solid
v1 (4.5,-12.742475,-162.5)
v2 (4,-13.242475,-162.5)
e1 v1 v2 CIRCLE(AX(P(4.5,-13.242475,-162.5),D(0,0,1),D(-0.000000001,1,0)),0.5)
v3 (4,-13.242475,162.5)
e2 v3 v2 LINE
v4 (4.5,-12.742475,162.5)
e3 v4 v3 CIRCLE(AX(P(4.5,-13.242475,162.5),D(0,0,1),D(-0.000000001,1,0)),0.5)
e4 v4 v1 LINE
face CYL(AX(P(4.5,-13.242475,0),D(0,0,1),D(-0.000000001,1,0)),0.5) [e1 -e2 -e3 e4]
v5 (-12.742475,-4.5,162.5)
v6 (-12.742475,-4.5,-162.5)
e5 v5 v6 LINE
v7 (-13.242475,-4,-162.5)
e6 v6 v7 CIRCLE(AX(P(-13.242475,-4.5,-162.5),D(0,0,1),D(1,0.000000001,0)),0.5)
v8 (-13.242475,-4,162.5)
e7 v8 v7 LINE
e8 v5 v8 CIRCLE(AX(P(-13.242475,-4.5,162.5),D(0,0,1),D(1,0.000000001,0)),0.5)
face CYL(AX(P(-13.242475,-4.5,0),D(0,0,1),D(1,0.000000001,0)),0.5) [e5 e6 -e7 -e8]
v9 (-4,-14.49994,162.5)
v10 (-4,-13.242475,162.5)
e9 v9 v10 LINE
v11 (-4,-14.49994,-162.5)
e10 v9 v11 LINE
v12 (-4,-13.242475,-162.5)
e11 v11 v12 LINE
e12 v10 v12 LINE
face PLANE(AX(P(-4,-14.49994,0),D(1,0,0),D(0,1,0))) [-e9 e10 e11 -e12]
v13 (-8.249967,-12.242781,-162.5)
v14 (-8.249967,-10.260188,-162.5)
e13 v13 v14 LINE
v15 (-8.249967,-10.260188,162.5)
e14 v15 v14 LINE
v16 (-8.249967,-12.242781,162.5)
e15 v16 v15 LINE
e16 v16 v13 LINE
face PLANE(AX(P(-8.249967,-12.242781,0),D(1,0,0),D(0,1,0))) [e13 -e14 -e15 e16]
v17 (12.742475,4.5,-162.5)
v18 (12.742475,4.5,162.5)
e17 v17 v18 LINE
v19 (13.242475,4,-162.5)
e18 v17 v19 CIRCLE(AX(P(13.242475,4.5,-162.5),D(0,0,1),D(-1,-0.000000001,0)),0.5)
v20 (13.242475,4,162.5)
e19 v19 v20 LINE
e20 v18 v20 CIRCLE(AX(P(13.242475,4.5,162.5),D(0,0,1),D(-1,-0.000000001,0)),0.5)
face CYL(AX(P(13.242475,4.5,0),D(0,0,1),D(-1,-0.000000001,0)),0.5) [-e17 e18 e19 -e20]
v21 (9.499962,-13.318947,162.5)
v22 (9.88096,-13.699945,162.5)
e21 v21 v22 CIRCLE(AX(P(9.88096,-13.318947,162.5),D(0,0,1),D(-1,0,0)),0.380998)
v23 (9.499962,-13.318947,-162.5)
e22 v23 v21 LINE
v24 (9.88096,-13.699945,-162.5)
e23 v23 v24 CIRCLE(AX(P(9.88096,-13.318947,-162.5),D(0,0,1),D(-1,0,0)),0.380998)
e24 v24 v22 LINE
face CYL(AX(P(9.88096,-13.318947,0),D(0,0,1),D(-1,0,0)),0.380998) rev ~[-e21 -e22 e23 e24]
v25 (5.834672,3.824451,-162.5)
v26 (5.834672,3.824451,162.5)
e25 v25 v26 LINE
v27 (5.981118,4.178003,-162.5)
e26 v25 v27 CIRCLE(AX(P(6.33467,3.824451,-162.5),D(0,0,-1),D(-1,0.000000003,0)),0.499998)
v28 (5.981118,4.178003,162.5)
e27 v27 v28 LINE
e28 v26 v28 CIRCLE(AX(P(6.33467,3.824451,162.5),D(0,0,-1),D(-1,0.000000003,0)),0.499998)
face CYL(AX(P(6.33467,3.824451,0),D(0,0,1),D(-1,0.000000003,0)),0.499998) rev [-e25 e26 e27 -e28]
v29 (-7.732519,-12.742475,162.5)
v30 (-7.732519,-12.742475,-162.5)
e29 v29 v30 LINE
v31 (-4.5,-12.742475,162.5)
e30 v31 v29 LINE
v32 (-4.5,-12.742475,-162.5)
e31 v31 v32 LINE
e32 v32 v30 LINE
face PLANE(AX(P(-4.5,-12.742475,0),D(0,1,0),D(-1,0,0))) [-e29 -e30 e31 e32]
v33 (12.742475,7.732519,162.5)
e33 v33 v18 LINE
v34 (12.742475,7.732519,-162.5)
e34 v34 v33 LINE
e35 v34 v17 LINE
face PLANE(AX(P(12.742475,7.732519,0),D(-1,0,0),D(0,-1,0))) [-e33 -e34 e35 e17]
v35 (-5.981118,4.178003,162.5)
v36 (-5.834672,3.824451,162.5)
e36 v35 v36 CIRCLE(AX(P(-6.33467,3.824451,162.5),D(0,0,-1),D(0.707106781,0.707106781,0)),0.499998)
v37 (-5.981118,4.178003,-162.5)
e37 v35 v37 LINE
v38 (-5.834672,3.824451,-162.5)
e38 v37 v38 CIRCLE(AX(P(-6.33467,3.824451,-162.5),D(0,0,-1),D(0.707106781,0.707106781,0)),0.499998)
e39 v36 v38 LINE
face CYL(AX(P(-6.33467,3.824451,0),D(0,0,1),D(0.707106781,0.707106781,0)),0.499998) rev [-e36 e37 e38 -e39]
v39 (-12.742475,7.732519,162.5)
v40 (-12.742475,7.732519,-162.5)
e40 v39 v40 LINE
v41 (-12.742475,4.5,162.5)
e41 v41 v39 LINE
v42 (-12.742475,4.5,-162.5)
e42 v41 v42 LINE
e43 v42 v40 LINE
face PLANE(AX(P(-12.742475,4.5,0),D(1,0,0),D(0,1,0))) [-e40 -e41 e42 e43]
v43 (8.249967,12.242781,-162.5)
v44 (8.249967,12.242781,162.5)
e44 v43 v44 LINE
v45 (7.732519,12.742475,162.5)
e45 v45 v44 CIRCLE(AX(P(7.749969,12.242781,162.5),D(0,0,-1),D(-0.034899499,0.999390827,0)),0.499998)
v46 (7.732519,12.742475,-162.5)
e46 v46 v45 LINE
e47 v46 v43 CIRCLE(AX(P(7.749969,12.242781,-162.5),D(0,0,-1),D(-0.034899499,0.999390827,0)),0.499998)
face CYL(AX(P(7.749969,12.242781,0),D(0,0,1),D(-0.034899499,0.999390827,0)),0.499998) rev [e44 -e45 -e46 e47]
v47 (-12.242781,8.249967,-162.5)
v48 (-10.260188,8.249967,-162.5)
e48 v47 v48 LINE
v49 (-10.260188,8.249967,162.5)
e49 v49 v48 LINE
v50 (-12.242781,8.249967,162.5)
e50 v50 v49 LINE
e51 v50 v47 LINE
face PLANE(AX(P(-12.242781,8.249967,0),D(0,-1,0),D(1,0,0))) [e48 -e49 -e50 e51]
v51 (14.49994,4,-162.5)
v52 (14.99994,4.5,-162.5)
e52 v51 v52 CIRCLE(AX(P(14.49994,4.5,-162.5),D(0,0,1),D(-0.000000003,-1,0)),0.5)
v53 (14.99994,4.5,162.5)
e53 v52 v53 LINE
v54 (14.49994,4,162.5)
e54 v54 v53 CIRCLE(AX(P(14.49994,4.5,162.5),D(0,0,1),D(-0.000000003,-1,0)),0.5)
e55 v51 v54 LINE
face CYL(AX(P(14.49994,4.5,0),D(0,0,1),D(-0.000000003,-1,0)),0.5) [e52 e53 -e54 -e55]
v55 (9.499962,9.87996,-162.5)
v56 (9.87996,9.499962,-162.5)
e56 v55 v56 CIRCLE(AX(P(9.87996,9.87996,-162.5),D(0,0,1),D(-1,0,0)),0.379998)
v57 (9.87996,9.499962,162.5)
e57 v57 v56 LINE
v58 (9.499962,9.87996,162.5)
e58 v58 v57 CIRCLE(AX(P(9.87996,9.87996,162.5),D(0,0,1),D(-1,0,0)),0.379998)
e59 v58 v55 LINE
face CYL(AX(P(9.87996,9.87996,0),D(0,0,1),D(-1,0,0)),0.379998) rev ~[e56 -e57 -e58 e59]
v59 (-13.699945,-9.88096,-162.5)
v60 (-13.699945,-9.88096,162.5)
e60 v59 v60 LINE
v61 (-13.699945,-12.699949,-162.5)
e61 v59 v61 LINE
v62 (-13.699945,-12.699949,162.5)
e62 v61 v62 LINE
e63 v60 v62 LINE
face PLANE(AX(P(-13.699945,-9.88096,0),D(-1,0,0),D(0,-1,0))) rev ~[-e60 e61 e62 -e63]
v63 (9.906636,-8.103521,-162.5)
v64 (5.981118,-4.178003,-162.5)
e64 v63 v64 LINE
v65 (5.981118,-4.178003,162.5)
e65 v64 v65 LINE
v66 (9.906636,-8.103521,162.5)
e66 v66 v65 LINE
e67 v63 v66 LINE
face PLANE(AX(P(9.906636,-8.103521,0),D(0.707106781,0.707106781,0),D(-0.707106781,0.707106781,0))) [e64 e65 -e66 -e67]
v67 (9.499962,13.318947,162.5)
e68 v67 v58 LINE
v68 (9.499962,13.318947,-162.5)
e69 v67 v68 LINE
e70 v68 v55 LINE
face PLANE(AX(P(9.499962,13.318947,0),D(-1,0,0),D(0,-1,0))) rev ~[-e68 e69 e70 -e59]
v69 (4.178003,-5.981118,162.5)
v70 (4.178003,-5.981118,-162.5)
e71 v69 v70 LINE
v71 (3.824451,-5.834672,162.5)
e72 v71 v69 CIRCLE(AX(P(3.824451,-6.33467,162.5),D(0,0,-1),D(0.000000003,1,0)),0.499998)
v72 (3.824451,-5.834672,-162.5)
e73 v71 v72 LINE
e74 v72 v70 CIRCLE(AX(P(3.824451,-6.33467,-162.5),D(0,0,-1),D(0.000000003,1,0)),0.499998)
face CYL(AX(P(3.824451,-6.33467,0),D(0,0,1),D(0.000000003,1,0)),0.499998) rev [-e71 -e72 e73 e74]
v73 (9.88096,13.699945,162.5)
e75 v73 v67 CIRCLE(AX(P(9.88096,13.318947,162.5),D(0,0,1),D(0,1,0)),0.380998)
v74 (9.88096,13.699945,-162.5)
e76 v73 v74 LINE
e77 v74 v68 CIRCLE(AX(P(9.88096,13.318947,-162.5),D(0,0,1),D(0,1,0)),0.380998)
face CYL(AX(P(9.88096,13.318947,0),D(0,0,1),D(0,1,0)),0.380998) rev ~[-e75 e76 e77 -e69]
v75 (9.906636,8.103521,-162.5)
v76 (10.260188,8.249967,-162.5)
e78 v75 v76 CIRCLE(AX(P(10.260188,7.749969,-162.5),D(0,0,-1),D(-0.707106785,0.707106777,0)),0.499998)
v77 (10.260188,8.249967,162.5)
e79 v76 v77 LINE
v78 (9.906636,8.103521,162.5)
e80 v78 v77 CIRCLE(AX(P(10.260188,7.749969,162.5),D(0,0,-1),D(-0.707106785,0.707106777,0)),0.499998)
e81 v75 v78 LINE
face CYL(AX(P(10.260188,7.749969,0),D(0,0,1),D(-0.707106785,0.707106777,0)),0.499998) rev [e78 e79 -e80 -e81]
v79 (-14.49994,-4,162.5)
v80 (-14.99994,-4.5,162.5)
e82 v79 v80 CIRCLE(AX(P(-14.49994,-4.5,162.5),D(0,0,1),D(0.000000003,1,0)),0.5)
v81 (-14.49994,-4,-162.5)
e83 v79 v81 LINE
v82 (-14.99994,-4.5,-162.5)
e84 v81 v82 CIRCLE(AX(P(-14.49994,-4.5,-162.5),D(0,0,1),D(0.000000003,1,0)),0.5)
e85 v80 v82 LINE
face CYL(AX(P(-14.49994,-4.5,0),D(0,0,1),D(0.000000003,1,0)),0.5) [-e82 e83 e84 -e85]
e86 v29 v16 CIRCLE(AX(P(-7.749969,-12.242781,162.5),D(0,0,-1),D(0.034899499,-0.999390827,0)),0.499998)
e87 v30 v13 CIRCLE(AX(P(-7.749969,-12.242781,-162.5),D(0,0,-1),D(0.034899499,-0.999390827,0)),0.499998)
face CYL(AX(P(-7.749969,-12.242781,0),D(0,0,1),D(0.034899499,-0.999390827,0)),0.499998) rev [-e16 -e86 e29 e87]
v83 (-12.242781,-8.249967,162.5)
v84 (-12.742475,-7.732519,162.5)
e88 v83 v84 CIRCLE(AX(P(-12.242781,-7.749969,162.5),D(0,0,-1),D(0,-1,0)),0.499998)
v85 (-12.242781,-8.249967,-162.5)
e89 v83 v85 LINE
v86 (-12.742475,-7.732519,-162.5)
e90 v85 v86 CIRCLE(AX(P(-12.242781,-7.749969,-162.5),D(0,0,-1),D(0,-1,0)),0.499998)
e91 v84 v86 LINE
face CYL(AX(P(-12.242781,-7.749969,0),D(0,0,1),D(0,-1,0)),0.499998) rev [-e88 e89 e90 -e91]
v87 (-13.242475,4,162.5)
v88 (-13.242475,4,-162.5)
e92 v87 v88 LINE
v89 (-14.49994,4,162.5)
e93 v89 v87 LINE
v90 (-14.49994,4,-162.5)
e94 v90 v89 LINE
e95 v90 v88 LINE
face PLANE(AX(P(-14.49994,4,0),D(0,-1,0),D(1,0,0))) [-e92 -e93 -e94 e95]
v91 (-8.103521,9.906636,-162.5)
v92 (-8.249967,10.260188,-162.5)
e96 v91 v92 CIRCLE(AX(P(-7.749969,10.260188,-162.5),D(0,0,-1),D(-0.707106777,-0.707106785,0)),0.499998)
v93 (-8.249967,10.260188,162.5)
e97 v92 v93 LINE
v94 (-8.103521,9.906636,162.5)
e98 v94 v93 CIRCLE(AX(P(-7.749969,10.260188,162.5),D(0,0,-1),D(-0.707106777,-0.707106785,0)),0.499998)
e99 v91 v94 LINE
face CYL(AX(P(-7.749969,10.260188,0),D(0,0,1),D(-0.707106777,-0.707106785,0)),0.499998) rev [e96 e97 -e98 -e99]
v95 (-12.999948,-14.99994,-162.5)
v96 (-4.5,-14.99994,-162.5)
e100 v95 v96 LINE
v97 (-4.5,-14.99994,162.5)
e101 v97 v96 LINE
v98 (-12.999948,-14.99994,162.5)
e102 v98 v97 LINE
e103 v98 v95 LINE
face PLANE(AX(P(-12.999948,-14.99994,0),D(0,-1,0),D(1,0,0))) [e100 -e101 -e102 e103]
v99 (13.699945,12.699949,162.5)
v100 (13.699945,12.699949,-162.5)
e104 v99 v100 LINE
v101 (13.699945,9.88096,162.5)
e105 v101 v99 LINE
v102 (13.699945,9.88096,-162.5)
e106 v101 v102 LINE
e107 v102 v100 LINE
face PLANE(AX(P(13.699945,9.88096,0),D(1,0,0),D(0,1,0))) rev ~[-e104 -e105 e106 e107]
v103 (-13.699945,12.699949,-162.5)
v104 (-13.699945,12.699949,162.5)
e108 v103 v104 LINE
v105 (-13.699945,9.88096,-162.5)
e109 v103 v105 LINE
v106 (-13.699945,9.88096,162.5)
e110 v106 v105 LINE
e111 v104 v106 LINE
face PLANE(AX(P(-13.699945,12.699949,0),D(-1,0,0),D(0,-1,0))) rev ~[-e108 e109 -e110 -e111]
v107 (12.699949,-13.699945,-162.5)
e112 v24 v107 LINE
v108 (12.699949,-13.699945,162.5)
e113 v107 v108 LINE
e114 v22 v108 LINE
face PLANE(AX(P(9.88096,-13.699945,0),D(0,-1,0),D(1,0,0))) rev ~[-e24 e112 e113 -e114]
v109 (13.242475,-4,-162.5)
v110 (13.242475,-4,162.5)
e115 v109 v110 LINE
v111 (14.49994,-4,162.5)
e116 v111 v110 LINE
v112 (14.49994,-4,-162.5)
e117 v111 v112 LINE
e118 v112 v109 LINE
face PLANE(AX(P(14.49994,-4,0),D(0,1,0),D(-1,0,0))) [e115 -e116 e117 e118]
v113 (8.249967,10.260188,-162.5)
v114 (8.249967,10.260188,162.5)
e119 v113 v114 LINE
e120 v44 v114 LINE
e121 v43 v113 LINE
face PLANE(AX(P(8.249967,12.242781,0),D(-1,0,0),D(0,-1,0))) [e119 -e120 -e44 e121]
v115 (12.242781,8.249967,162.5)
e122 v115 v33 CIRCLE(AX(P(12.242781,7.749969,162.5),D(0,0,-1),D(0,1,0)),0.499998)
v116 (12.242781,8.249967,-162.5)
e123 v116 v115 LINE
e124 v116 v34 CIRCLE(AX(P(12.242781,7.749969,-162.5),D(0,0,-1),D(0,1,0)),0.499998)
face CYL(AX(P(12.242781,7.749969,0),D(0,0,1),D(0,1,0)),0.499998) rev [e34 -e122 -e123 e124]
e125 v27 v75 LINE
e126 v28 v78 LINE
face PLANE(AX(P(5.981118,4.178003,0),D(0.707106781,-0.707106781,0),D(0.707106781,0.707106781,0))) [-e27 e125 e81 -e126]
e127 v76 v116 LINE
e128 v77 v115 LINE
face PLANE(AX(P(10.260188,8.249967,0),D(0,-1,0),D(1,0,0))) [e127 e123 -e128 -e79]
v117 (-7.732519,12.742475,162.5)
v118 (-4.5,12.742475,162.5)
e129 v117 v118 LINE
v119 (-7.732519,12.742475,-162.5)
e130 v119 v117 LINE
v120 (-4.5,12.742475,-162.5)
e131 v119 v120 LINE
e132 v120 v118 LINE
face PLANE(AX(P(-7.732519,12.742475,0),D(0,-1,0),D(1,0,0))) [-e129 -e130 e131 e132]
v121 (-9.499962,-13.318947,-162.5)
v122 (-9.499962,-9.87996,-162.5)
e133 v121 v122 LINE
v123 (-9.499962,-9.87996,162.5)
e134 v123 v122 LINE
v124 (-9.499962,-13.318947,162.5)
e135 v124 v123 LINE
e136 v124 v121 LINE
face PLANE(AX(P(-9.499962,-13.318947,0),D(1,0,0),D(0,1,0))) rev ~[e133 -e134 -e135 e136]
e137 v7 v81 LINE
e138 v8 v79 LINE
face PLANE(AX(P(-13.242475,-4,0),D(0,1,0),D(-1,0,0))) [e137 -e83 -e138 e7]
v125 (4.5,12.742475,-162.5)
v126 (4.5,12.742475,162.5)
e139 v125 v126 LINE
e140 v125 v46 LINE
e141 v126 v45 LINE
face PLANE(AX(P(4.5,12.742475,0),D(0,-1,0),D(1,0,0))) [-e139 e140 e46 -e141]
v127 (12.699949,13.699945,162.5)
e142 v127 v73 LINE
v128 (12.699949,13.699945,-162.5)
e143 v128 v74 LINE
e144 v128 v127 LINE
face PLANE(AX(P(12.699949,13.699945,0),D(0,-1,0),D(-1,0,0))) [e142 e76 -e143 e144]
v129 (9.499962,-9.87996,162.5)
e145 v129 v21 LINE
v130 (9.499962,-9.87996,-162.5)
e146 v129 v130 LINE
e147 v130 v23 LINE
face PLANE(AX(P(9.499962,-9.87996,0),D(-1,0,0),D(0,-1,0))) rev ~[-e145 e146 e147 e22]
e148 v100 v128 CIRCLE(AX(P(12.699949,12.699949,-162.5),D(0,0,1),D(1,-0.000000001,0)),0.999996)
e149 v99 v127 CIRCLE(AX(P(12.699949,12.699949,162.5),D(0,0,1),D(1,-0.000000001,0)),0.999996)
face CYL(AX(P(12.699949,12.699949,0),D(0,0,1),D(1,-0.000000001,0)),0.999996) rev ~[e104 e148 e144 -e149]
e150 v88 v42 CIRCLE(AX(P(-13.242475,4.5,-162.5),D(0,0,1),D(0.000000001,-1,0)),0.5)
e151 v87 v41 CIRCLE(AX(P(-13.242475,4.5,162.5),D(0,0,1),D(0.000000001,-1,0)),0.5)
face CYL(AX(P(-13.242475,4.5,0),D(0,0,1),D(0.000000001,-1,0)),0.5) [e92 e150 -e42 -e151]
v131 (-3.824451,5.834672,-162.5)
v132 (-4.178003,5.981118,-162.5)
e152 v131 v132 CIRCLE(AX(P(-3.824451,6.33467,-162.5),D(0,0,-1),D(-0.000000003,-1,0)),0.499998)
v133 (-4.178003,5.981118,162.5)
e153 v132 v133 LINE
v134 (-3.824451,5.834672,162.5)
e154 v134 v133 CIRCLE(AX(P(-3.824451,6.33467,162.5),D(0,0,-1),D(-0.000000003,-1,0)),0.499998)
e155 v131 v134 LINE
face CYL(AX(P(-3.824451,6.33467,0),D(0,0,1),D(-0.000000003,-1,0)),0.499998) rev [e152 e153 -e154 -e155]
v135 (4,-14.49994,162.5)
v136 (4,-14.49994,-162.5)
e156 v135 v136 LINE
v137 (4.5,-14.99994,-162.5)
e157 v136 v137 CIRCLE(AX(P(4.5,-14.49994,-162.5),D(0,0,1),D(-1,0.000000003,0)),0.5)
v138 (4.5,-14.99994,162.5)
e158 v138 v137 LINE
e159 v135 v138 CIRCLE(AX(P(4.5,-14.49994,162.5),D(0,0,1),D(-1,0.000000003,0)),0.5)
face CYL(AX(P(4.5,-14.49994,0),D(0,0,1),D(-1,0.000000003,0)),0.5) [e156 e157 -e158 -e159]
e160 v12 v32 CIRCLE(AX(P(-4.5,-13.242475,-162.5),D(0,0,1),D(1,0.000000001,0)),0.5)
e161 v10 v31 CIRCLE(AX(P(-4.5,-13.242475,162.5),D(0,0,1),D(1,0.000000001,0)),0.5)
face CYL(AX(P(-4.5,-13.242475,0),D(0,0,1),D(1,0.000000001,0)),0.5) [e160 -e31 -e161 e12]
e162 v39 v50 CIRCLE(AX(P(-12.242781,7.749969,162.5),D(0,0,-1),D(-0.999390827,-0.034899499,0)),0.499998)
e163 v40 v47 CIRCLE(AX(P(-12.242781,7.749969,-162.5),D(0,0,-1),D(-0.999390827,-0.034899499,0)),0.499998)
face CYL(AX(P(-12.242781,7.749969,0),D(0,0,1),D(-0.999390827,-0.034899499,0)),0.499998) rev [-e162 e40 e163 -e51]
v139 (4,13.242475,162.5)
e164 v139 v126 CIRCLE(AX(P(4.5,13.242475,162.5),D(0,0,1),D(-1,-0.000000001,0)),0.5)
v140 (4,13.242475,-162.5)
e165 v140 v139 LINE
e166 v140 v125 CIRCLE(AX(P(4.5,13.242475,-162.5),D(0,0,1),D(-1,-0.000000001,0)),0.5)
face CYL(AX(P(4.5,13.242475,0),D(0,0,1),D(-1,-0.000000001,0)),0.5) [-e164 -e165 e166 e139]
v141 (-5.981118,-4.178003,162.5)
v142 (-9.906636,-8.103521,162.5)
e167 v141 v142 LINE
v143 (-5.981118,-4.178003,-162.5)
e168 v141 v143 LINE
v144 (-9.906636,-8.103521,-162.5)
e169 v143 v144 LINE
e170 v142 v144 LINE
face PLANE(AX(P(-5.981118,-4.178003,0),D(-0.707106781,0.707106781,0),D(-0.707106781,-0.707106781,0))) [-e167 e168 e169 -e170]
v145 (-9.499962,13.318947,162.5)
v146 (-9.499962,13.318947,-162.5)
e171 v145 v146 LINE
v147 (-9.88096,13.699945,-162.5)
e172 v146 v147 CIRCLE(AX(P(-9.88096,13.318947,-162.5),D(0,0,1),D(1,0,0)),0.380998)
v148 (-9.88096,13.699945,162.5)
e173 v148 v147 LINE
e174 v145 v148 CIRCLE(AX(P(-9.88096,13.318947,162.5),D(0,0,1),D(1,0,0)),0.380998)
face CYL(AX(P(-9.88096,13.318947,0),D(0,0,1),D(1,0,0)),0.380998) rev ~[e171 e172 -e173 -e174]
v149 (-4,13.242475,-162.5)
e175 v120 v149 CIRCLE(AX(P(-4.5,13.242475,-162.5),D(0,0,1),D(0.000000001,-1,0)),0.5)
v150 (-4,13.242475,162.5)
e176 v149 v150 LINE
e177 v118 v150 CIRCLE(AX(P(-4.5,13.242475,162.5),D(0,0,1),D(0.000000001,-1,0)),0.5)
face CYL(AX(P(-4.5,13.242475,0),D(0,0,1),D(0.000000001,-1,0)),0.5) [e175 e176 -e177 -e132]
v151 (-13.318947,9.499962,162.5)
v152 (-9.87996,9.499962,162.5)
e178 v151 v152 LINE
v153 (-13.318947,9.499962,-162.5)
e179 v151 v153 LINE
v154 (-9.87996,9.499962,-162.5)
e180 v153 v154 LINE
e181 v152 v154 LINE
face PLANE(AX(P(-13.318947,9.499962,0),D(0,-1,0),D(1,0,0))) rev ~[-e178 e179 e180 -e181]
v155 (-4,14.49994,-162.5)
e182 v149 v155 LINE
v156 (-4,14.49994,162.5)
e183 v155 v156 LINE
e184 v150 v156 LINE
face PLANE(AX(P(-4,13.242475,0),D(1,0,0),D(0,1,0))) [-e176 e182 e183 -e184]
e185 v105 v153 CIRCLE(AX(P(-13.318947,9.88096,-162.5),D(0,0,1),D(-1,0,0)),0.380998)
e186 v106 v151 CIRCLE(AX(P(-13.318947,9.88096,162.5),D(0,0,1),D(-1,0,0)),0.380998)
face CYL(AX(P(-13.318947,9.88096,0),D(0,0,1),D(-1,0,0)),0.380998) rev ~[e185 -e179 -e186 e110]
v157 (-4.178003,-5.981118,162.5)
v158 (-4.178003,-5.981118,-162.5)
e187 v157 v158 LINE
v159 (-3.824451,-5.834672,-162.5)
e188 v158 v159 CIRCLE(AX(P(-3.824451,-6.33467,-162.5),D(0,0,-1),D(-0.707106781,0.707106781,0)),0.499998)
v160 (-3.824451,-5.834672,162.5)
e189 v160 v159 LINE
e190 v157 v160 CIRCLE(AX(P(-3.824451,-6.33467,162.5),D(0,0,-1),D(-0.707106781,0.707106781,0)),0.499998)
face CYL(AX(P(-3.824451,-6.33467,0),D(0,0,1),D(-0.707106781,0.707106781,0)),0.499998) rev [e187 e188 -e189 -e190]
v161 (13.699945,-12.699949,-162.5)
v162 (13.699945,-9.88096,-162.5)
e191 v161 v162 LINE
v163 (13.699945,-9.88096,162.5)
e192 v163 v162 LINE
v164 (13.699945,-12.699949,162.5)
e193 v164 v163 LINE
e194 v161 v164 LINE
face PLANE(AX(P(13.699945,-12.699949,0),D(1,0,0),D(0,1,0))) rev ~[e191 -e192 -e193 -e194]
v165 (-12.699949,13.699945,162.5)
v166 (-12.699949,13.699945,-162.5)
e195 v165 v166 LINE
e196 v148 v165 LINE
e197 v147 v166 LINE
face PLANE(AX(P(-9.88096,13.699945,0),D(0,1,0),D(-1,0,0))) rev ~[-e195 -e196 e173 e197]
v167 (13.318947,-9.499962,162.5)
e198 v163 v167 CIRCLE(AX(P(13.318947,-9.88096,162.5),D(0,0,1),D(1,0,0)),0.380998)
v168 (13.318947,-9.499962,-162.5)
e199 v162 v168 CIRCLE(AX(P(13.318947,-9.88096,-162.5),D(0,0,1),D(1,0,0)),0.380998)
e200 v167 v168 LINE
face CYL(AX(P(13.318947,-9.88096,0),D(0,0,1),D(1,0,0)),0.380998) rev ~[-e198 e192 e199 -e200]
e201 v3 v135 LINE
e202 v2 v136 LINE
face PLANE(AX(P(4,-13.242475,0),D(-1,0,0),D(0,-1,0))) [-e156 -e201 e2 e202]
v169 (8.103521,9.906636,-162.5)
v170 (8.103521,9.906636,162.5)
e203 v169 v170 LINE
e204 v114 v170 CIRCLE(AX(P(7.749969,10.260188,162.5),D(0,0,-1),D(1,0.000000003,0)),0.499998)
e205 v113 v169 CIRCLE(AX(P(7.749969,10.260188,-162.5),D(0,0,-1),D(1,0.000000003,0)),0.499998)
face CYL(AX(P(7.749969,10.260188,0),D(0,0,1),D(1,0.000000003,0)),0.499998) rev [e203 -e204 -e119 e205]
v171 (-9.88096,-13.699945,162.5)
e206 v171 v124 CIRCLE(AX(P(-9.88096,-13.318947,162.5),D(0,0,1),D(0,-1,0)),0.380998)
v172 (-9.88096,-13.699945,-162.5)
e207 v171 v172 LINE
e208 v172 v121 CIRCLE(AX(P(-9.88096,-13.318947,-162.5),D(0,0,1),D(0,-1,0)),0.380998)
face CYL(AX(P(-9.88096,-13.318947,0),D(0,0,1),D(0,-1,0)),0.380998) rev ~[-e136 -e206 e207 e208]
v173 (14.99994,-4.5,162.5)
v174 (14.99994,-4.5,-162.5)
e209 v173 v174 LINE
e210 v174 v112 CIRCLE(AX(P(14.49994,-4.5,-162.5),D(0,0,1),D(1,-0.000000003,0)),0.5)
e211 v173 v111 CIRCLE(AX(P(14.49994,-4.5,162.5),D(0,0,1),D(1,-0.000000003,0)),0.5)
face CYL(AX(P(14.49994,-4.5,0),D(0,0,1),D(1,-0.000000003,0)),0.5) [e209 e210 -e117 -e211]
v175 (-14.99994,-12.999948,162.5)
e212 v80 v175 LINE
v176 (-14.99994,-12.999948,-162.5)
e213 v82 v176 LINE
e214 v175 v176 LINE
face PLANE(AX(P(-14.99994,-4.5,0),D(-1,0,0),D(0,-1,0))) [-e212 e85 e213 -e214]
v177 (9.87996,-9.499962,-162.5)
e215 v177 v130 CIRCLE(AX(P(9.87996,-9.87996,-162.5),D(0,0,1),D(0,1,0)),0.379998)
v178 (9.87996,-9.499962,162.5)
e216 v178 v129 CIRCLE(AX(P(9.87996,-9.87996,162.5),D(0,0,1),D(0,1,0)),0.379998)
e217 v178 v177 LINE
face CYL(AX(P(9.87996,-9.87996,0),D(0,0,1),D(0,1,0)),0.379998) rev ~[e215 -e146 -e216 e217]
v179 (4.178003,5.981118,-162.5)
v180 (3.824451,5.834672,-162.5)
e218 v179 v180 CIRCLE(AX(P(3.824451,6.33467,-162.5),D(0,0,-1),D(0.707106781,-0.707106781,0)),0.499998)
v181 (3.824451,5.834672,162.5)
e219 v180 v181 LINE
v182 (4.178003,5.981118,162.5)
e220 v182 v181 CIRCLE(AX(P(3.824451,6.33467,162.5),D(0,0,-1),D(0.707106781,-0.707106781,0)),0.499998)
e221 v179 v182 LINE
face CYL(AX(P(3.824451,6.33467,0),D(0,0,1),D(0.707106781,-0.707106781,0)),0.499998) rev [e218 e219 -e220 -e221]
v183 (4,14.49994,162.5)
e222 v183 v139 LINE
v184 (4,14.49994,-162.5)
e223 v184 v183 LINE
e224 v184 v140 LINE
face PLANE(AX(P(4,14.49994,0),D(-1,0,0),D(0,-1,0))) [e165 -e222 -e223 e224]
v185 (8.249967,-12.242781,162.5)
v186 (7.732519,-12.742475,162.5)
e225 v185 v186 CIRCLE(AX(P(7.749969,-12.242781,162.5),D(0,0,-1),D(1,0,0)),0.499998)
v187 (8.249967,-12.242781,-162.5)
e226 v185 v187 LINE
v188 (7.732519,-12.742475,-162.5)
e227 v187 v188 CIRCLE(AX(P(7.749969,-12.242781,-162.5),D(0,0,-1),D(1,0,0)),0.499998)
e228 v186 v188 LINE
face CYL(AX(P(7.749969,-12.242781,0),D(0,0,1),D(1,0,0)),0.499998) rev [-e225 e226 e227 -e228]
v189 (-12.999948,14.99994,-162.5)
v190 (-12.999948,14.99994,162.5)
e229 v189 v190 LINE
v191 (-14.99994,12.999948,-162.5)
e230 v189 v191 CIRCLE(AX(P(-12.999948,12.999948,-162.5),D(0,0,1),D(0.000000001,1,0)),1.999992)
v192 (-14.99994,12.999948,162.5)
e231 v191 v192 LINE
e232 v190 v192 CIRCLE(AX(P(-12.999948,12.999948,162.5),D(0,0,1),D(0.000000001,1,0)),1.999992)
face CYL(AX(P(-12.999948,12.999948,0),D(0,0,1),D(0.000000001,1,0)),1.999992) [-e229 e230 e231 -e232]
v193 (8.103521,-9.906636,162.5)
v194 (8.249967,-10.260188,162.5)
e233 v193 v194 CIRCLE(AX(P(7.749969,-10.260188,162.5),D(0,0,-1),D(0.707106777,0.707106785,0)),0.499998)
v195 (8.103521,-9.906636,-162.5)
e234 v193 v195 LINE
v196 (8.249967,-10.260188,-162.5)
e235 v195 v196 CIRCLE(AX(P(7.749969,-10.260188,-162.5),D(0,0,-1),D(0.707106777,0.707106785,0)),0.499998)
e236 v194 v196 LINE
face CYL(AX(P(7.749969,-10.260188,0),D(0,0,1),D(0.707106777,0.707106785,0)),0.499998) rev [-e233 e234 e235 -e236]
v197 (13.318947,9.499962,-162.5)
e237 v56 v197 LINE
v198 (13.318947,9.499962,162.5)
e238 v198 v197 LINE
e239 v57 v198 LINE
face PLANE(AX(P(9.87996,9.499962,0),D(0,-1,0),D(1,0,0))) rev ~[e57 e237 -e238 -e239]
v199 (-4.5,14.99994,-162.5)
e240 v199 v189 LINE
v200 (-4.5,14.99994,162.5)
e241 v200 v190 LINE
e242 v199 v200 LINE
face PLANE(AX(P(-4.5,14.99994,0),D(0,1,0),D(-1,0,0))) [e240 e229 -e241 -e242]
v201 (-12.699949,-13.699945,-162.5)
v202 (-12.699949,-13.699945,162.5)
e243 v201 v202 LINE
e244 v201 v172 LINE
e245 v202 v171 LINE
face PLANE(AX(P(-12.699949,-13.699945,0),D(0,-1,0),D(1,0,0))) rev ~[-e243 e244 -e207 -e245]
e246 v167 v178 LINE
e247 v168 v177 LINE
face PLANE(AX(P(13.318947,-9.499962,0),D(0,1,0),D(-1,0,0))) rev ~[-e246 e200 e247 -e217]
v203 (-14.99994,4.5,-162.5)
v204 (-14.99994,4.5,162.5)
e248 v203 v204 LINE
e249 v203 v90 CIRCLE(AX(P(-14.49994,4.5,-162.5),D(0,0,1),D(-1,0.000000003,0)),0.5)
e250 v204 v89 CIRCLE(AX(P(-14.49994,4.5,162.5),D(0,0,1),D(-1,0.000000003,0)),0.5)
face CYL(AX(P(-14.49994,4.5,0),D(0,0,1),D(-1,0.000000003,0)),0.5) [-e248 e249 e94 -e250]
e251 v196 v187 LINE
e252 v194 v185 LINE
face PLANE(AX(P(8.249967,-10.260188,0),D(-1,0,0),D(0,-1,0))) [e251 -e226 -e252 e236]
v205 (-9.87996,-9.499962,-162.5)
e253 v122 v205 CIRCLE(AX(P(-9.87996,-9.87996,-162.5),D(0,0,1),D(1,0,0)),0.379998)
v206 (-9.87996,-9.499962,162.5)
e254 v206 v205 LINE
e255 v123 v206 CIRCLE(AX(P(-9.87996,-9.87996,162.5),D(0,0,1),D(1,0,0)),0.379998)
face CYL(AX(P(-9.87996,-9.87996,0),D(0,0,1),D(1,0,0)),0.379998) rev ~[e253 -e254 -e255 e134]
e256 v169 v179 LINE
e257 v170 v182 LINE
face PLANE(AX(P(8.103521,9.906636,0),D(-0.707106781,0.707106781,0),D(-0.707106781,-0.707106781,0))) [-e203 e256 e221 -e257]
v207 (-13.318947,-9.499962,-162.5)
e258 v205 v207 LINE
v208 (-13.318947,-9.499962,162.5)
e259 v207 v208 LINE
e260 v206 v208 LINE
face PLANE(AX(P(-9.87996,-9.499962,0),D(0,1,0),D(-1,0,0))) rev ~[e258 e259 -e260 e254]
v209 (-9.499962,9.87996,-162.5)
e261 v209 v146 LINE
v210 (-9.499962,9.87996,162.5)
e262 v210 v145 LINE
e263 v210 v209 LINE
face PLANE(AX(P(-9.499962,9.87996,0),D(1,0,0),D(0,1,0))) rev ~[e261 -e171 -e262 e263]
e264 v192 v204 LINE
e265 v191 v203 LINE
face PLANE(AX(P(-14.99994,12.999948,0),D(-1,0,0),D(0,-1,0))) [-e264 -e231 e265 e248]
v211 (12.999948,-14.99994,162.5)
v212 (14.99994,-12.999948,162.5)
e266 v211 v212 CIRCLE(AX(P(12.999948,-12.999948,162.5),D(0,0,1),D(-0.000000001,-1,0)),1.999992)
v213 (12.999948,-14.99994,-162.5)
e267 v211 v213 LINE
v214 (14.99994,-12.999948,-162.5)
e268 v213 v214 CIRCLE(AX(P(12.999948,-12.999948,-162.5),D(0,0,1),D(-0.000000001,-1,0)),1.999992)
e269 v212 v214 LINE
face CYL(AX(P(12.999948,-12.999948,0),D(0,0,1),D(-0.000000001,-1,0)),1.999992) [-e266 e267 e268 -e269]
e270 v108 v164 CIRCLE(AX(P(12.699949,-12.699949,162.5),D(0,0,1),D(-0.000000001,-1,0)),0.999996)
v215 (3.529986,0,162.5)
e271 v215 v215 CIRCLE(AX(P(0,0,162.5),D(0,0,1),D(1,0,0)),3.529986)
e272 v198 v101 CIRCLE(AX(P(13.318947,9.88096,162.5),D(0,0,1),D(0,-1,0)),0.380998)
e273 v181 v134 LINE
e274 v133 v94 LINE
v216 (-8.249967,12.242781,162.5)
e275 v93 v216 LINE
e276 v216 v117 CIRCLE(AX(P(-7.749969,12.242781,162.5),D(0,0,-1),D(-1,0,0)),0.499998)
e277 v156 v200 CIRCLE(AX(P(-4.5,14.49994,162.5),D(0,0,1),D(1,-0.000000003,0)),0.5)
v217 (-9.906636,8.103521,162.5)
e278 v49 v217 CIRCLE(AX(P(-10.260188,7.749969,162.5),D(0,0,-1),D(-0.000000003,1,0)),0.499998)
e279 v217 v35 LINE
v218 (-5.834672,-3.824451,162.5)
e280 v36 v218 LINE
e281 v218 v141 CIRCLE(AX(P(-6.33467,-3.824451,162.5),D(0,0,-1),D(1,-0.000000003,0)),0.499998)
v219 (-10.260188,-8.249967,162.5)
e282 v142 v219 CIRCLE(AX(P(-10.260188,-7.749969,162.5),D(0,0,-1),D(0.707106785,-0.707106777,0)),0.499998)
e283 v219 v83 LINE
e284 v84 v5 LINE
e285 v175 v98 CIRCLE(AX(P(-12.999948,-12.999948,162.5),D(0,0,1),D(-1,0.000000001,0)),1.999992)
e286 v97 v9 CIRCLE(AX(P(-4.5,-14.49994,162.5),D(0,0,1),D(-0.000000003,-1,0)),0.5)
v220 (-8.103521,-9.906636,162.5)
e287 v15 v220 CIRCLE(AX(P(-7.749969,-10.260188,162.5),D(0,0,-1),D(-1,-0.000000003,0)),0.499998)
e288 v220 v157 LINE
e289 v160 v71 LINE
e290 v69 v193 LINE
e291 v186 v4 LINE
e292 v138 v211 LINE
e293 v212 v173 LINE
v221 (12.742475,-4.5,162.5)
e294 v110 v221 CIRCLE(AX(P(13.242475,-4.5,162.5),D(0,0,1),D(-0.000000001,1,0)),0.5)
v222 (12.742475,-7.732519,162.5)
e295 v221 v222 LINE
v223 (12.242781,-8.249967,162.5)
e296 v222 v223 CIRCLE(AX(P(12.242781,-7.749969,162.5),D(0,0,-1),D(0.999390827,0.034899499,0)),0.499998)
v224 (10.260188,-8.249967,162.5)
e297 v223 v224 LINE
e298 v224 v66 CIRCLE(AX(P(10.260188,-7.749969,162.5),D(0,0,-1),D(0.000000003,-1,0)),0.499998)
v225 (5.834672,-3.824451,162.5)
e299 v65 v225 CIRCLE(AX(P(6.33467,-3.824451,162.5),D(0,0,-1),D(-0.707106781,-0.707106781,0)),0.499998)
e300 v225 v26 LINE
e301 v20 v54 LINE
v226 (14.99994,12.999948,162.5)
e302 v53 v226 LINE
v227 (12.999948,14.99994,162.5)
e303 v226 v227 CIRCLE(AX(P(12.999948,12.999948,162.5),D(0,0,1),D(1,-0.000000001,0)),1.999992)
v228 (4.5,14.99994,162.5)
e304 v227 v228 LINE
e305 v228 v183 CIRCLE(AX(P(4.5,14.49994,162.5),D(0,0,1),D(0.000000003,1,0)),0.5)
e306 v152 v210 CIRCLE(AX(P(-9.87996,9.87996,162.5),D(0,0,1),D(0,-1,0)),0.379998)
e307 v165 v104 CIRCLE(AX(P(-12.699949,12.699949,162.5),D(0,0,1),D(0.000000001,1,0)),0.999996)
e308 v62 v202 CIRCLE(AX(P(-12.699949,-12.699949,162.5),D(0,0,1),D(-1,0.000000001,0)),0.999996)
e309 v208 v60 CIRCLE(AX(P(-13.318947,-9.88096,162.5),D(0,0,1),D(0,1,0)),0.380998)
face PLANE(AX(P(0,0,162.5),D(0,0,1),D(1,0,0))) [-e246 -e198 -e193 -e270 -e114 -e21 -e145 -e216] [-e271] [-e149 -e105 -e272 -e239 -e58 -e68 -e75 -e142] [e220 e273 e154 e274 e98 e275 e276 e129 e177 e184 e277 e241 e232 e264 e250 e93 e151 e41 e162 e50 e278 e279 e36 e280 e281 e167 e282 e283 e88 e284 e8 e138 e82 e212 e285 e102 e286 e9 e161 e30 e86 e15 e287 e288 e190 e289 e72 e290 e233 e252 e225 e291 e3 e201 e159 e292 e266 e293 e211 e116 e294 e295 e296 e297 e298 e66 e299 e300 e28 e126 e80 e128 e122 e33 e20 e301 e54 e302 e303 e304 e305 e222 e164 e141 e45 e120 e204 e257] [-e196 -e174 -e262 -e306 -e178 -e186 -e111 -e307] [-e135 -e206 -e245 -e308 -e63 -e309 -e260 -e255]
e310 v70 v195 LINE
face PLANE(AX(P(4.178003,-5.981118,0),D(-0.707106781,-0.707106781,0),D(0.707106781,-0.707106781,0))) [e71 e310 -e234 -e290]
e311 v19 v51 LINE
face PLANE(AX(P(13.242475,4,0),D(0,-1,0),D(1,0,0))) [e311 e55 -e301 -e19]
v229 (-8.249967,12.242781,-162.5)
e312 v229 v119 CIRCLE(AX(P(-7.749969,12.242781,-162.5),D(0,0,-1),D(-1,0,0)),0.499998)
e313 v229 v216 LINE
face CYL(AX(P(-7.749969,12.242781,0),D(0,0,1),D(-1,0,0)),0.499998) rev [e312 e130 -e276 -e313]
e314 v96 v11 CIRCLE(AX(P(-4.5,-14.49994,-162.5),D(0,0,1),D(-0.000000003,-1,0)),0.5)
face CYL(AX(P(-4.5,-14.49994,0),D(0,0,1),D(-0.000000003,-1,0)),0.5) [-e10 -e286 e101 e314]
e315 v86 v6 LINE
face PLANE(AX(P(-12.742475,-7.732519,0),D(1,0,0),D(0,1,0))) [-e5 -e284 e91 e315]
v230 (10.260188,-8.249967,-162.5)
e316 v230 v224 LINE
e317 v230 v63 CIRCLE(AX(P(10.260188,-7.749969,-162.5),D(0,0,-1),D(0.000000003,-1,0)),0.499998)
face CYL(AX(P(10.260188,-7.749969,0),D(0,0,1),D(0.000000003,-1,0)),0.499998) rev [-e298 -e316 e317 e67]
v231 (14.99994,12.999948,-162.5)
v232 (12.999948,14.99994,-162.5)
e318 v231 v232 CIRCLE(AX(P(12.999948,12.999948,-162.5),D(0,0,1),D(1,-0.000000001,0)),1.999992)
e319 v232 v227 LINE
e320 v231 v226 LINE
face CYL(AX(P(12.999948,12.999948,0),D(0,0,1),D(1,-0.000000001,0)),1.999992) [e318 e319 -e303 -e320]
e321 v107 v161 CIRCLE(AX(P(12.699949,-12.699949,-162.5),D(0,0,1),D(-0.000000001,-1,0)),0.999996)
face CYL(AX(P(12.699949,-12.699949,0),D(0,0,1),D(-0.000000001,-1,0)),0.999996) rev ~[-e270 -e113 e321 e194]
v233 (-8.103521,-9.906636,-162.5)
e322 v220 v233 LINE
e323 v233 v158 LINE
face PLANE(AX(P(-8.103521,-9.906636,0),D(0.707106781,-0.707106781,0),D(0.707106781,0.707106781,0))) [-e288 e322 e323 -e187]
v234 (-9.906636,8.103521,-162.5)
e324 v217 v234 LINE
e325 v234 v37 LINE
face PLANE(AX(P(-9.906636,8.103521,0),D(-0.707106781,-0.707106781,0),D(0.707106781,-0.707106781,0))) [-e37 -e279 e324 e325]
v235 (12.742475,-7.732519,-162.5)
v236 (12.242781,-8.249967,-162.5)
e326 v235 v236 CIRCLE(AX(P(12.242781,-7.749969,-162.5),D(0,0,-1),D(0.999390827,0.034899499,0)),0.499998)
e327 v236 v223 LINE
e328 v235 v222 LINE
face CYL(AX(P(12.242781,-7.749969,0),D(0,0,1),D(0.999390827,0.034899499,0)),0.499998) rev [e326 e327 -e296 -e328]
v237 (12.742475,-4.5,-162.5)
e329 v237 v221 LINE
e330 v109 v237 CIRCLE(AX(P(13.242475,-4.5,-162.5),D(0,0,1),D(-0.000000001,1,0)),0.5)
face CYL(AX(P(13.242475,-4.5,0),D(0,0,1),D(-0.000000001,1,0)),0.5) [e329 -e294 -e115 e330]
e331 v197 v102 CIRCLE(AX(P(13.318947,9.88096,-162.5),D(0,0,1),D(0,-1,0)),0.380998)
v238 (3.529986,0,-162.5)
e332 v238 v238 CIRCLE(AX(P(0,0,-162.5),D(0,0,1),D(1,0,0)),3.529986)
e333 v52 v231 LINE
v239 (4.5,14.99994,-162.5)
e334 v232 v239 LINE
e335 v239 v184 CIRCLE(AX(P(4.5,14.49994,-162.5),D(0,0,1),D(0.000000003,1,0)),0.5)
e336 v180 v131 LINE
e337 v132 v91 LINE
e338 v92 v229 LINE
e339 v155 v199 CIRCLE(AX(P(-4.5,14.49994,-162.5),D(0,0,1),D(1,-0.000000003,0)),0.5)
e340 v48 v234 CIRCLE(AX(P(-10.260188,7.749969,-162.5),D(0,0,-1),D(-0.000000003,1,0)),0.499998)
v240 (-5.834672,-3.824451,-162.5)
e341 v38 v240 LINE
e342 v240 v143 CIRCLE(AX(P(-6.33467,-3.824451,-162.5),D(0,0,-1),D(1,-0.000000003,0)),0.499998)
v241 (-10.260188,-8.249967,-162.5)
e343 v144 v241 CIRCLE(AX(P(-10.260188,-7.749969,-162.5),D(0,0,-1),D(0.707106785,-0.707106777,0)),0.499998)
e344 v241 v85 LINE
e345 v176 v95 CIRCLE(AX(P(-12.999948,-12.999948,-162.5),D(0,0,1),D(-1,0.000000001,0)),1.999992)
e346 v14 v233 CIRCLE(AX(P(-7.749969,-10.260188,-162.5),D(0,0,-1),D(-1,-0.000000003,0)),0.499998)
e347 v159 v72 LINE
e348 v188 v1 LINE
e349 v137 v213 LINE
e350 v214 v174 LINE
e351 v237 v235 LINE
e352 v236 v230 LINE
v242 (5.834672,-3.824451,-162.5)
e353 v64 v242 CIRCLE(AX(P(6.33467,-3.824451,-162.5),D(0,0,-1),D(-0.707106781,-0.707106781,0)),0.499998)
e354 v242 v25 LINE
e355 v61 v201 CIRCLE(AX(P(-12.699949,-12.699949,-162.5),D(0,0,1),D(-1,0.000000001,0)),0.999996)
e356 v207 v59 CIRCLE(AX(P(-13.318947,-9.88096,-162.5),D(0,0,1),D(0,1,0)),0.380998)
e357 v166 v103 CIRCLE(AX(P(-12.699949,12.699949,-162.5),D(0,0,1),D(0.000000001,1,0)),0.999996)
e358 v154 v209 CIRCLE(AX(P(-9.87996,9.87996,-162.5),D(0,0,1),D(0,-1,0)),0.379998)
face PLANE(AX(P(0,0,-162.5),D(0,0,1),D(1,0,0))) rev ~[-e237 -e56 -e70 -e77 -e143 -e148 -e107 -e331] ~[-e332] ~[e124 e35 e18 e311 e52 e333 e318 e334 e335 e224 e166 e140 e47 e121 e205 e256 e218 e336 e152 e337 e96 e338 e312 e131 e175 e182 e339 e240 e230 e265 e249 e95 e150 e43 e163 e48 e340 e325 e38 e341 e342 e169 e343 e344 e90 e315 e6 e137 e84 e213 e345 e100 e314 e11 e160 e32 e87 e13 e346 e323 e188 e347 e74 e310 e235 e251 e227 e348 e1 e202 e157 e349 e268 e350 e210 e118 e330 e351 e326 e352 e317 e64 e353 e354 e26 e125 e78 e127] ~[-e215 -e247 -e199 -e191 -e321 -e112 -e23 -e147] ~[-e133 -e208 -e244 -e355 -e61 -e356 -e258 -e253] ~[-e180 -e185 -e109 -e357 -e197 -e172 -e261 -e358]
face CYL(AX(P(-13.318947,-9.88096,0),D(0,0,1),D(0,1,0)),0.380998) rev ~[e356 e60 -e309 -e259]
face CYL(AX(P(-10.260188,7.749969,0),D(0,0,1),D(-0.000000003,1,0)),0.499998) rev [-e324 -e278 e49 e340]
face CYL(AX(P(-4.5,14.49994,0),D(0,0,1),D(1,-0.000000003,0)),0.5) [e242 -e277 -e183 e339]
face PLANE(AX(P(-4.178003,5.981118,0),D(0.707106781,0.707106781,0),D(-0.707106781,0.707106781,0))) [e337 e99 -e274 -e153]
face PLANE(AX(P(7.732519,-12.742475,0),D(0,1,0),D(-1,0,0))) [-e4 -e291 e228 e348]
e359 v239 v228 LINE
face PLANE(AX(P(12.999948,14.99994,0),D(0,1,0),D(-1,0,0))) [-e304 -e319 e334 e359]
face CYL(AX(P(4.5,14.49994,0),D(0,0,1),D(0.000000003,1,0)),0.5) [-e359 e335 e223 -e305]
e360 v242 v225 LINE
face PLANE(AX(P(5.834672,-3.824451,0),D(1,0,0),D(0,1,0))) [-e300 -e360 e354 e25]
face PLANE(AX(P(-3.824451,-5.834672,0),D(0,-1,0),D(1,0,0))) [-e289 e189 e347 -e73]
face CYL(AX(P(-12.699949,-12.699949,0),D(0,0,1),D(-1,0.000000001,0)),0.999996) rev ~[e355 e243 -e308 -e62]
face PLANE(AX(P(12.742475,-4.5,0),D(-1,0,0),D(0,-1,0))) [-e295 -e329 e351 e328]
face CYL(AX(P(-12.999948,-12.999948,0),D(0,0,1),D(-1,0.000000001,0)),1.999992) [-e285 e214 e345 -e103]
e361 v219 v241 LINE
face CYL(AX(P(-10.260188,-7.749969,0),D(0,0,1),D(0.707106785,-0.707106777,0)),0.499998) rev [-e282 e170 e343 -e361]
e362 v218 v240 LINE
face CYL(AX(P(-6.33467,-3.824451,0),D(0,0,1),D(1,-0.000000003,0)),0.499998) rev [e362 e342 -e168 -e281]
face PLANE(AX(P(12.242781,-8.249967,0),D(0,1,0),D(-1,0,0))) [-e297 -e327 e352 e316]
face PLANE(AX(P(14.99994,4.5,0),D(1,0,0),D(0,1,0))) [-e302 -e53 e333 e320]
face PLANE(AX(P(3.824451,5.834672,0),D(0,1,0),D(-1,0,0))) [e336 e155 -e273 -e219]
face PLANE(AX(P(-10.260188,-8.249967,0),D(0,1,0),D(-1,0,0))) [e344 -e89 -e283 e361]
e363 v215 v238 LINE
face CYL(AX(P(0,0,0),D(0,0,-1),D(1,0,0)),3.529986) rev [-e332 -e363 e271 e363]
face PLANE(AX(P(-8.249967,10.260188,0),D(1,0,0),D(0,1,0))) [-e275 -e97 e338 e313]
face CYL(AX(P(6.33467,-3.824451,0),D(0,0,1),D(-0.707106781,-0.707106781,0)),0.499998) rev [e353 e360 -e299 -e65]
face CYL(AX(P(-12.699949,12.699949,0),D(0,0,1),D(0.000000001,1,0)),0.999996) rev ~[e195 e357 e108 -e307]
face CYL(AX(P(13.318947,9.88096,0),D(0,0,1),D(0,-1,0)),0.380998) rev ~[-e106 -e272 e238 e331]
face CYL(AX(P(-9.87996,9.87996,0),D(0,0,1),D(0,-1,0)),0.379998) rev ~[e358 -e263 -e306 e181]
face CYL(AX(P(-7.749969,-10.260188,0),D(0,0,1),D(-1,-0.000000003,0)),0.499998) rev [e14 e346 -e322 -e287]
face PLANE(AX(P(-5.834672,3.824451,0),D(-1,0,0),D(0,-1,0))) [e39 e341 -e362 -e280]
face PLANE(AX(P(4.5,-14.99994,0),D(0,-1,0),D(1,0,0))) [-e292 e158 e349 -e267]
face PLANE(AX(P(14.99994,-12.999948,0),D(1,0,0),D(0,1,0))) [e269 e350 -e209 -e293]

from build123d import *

# Parameters (mm, degrees)
SKETCH1_R           = 3.52998588
BOSS_EXTRUDE1_DEPTH = 162.5


with BuildPart() as part:
    # Sketch1 → Boss-Extrude1 (new body, symmetric)
    with BuildSketch(Plane.XY):
        with BuildLine():
            Line((14.49994, -4), (13.24247465, -4))
            ThreePointArc((13.24247465, -4), (12.88892126, -4.146446609), (12.74247465, -4.5))
            Line((12.74247465, -4.5), (12.74247465, -7.732519321))
            ThreePointArc((12.74247465, -7.732519321), (12.602449697, -8.097296796), (12.242781236, -8.249967))
            Line((12.242781236, -8.249967), (10.260188032, -8.249967))
            ThreePointArc((10.260188032, -8.249967), (10.068847082, -8.211906919), (9.906636056, -8.103520976))
            Line((9.906636056, -8.103520976), (5.981117769, -4.178002689))
            ThreePointArc((5.981117769, -4.178002689), (5.872731827, -4.015791664), (5.834671745, -3.824450713))
            Line((5.834671745, -3.824450713), (5.834671745, -1.01249595))
            Line((5.834671745, -1.01249595), (5.834671745, 0.88749645))
            Line((5.834671745, 0.88749645), (5.834671745, 3.824450713))
            ThreePointArc((5.834671745, 3.824450713), (5.872731827, 4.015791664), (5.981117769, 4.178002689))
            Line((5.981117769, 4.178002689), (9.906636056, 8.103520976))
            ThreePointArc((9.906636056, 8.103520976), (10.068847082, 8.211906919), (10.260188032, 8.249967))
            Line((10.260188032, 8.249967), (12.242781236, 8.249967))
            ThreePointArc((12.242781236, 8.249967), (12.602449697, 8.097296796), (12.74247465, 7.732519321))
            Line((12.74247465, 7.732519321), (12.74247465, 4.5))
            ThreePointArc((12.74247465, 4.5), (12.88892126, 4.146446609), (13.24247465, 4))
            Line((13.24247465, 4), (14.49994, 4))
            ThreePointArc((14.49994, 4), (14.853493391, 4.146446609), (14.99994, 4.5))
            Line((14.99994, 4.5), (14.99994, 12.999948))
            ThreePointArc((14.99994, 12.999948), (14.414155906, 14.414155906), (12.999948, 14.99994))
            Line((12.999948, 14.99994), (4.5, 14.99994))
            ThreePointArc((4.5, 14.99994), (4.146446609, 14.853493391), (4, 14.49994))
            Line((4, 14.49994), (4, 13.24247465))
            ThreePointArc((4, 13.24247465), (4.146446609, 12.88892126), (4.5, 12.74247465))
            Line((4.5, 12.74247465), (7.732519321, 12.74247465))
            ThreePointArc((7.732519321, 12.74247465), (8.097296796, 12.602449697), (8.249967, 12.242781236))
            Line((8.249967, 12.242781236), (8.249967, 10.260188032))
            ThreePointArc((8.249967, 10.260188032), (8.211906919, 10.068847082), (8.103520976, 9.906636056))
            Line((8.103520976, 9.906636056), (4.178002689, 5.981117769))
            ThreePointArc((4.178002689, 5.981117769), (4.015791664, 5.872731827), (3.824450713, 5.834671745))
            Line((3.824450713, 5.834671745), (0.9499962, 5.834671745))
            Line((0.9499962, 5.834671745), (-0.9499962, 5.834671745))
            Line((-0.9499962, 5.834671745), (-3.824450713, 5.834671745))
            ThreePointArc((-3.824450713, 5.834671745), (-4.015791664, 5.872731827), (-4.178002689, 5.981117769))
            Line((-4.178002689, 5.981117769), (-8.103520976, 9.906636056))
            ThreePointArc((-8.103520976, 9.906636056), (-8.211906919, 10.068847082), (-8.249967, 10.260188032))
            Line((-8.249967, 10.260188032), (-8.249967, 12.242781236))
            ThreePointArc((-8.249967, 12.242781236), (-8.097296796, 12.602449697), (-7.732519321, 12.74247465))
            Line((-7.732519321, 12.74247465), (-4.5, 12.74247465))
            ThreePointArc((-4.5, 12.74247465), (-4.146446609, 12.88892126), (-4, 13.24247465))
            Line((-4, 13.24247465), (-4, 14.49994))
            ThreePointArc((-4, 14.49994), (-4.146446609, 14.853493391), (-4.5, 14.99994))
            Line((-4.5, 14.99994), (-12.999948, 14.99994))
            ThreePointArc((-12.999948, 14.99994), (-14.414155906, 14.414155906), (-14.99994, 12.999948))
            Line((-14.99994, 12.999948), (-14.99994, 4.5))
            ThreePointArc((-14.99994, 4.5), (-14.853493391, 4.146446609), (-14.49994, 4))
            Line((-14.49994, 4), (-13.24247465, 4))
            ThreePointArc((-13.24247465, 4), (-12.88892126, 4.146446609), (-12.74247465, 4.5))
            Line((-12.74247465, 4.5), (-12.74247465, 7.732519321))
            ThreePointArc((-12.74247465, 7.732519321), (-12.602449697, 8.097296796), (-12.242781236, 8.249967))
            Line((-12.242781236, 8.249967), (-10.260188032, 8.249967))
            ThreePointArc((-10.260188032, 8.249967), (-10.068847082, 8.211906919), (-9.906636056, 8.103520976))
            Line((-9.906636056, 8.103520976), (-5.981117769, 4.178002689))
            ThreePointArc((-5.981117769, 4.178002689), (-5.872731827, 4.015791664), (-5.834671745, 3.824450713))
            Line((-5.834671745, 3.824450713), (-5.834671745, 0.88749645))
            Line((-5.834671745, 0.88749645), (-5.834671745, -1.01249595))
            Line((-5.834671745, -1.01249595), (-5.834671745, -3.824450713))
            ThreePointArc((-5.834671745, -3.824450713), (-5.872731827, -4.015791664), (-5.981117769, -4.178002689))
            Line((-5.981117769, -4.178002689), (-9.906636056, -8.103520976))
            ThreePointArc((-9.906636056, -8.103520976), (-10.068847082, -8.211906919), (-10.260188032, -8.249967))
            Line((-10.260188032, -8.249967), (-12.242781236, -8.249967))
            ThreePointArc((-12.242781236, -8.249967), (-12.602449697, -8.097296796), (-12.74247465, -7.732519321))
            Line((-12.74247465, -7.732519321), (-12.74247465, -4.5))
            ThreePointArc((-12.74247465, -4.5), (-12.88892126, -4.146446609), (-13.24247465, -4))
            Line((-13.24247465, -4), (-14.49994, -4))
            ThreePointArc((-14.49994, -4), (-14.853493391, -4.146446609), (-14.99994, -4.5))
            Line((-14.99994, -4.5), (-14.99994, -12.999948))
            ThreePointArc((-14.99994, -12.999948), (-14.414155906, -14.414155906), (-12.999948, -14.99994))
            Line((-12.999948, -14.99994), (-4.5, -14.99994))
            ThreePointArc((-4.5, -14.99994), (-4.146446609, -14.853493391), (-4, -14.49994))
            Line((-4, -14.49994), (-4, -13.24247465))
            ThreePointArc((-4, -13.24247465), (-4.146446609, -12.88892126), (-4.5, -12.74247465))
            Line((-4.5, -12.74247465), (-7.732519321, -12.74247465))
            ThreePointArc((-7.732519321, -12.74247465), (-8.097296796, -12.602449697), (-8.249967, -12.242781236))
            Line((-8.249967, -12.242781236), (-8.249967, -10.260188032))
            ThreePointArc((-8.249967, -10.260188032), (-8.211906919, -10.068847082), (-8.103520976, -9.906636056))
            Line((-8.103520976, -9.906636056), (-4.178002689, -5.981117769))
            ThreePointArc((-4.178002689, -5.981117769), (-4.015791664, -5.872731827), (-3.824450713, -5.834671745))
            Line((-3.824450713, -5.834671745), (-0.9499962, -5.834671745))
            Line((-0.9499962, -5.834671745), (0.9499962, -5.834671745))
            Line((0.9499962, -5.834671745), (3.824450713, -5.834671745))
            ThreePointArc((3.824450713, -5.834671745), (4.015791664, -5.872731827), (4.178002689, -5.981117769))
            Line((4.178002689, -5.981117769), (8.103520976, -9.906636056))
            ThreePointArc((8.103520976, -9.906636056), (8.211906919, -10.068847082), (8.249967, -10.260188032))
            Line((8.249967, -10.260188032), (8.249967, -12.242781236))
            ThreePointArc((8.249967, -12.242781236), (8.097296796, -12.602449697), (7.732519321, -12.74247465))
            Line((7.732519321, -12.74247465), (4.5, -12.74247465))
            ThreePointArc((4.5, -12.74247465), (4.146446609, -12.88892126), (4, -13.24247465))
            Line((4, -13.24247465), (4, -14.49994))
            ThreePointArc((4, -14.49994), (4.146446609, -14.853493391), (4.5, -14.99994))
            Line((4.5, -14.99994), (12.999948, -14.99994))
            ThreePointArc((12.999948, -14.99994), (14.414155906, -14.414155906), (14.99994, -12.999948))
            Line((14.99994, -12.999948), (14.99994, -4.5))
            ThreePointArc((14.99994, -4.5), (14.853493391, -4.146446609), (14.49994, -4))
        make_face()
        Circle(SKETCH1_R, mode=Mode.SUBTRACT)
        with BuildLine():
            Line((-12.6999492, -13.6999452), (-9.880960476, -13.6999452))
            ThreePointArc((-9.880960476, -13.6999452), (-9.61155387, -13.58835333), (-9.499962, -13.318946724))
            Line((-9.499962, -13.318946724), (-9.499962, -9.87996048))
            ThreePointArc((-9.499962, -9.87996048), (-9.611260978, -9.611260978), (-9.87996048, -9.499962))
            Line((-9.87996048, -9.499962), (-13.318946724, -9.499962))
            ThreePointArc((-13.318946724, -9.499962), (-13.58835333, -9.61155387), (-13.6999452, -9.880960476))
            Line((-13.6999452, -9.880960476), (-13.6999452, -12.6999492))
            ThreePointArc((-13.6999452, -12.6999492), (-13.407053153, -13.407053153), (-12.6999492, -13.6999452))
        make_face(mode=Mode.SUBTRACT)
        with BuildLine():
            Line((13.6999452, -12.6999492), (13.6999452, -9.880960476))
            ThreePointArc((13.6999452, -9.880960476), (13.58835333, -9.61155387), (13.318946724, -9.499962))
            Line((13.318946724, -9.499962), (9.87996048, -9.499962))
            ThreePointArc((9.87996048, -9.499962), (9.611260978, -9.611260978), (9.499962, -9.87996048))
            Line((9.499962, -9.87996048), (9.499962, -13.318946724))
            ThreePointArc((9.499962, -13.318946724), (9.61155387, -13.58835333), (9.880960476, -13.6999452))
            Line((9.880960476, -13.6999452), (12.6999492, -13.6999452))
            ThreePointArc((12.6999492, -13.6999452), (13.407053153, -13.407053153), (13.6999452, -12.6999492))
        make_face(mode=Mode.SUBTRACT)
        with BuildLine():
            Line((9.87996048, 9.499962), (13.318946724, 9.499962))
            ThreePointArc((13.318946724, 9.499962), (13.58835333, 9.61155387), (13.6999452, 9.880960476))
            Line((13.6999452, 9.880960476), (13.6999452, 12.6999492))
            ThreePointArc((13.6999452, 12.6999492), (13.407053153, 13.407053153), (12.6999492, 13.6999452))
            Line((12.6999492, 13.6999452), (9.880960476, 13.6999452))
            ThreePointArc((9.880960476, 13.6999452), (9.61155387, 13.58835333), (9.499962, 13.318946724))
            Line((9.499962, 13.318946724), (9.499962, 9.87996048))
            ThreePointArc((9.499962, 9.87996048), (9.611260978, 9.611260978), (9.87996048, 9.499962))
        make_face(mode=Mode.SUBTRACT)
        with BuildLine():
            Line((-13.6999452, 12.6999492), (-13.6999452, 9.880960476))
            ThreePointArc((-13.6999452, 9.880960476), (-13.58835333, 9.61155387), (-13.318946724, 9.499962))
            Line((-13.318946724, 9.499962), (-9.87996048, 9.499962))
            ThreePointArc((-9.87996048, 9.499962), (-9.611260978, 9.611260978), (-9.499962, 9.87996048))
            Line((-9.499962, 9.87996048), (-9.499962, 13.318946724))
            ThreePointArc((-9.499962, 13.318946724), (-9.61155387, 13.58835333), (-9.880960476, 13.6999452))
            Line((-9.880960476, 13.6999452), (-12.6999492, 13.6999452))
            ThreePointArc((-12.6999492, 13.6999452), (-13.407053153, 13.407053153), (-13.6999452, 12.6999492))
        make_face(mode=Mode.SUBTRACT)
    extrude(amount=BOSS_EXTRUDE1_DEPTH, both=True)


solid = part.part
